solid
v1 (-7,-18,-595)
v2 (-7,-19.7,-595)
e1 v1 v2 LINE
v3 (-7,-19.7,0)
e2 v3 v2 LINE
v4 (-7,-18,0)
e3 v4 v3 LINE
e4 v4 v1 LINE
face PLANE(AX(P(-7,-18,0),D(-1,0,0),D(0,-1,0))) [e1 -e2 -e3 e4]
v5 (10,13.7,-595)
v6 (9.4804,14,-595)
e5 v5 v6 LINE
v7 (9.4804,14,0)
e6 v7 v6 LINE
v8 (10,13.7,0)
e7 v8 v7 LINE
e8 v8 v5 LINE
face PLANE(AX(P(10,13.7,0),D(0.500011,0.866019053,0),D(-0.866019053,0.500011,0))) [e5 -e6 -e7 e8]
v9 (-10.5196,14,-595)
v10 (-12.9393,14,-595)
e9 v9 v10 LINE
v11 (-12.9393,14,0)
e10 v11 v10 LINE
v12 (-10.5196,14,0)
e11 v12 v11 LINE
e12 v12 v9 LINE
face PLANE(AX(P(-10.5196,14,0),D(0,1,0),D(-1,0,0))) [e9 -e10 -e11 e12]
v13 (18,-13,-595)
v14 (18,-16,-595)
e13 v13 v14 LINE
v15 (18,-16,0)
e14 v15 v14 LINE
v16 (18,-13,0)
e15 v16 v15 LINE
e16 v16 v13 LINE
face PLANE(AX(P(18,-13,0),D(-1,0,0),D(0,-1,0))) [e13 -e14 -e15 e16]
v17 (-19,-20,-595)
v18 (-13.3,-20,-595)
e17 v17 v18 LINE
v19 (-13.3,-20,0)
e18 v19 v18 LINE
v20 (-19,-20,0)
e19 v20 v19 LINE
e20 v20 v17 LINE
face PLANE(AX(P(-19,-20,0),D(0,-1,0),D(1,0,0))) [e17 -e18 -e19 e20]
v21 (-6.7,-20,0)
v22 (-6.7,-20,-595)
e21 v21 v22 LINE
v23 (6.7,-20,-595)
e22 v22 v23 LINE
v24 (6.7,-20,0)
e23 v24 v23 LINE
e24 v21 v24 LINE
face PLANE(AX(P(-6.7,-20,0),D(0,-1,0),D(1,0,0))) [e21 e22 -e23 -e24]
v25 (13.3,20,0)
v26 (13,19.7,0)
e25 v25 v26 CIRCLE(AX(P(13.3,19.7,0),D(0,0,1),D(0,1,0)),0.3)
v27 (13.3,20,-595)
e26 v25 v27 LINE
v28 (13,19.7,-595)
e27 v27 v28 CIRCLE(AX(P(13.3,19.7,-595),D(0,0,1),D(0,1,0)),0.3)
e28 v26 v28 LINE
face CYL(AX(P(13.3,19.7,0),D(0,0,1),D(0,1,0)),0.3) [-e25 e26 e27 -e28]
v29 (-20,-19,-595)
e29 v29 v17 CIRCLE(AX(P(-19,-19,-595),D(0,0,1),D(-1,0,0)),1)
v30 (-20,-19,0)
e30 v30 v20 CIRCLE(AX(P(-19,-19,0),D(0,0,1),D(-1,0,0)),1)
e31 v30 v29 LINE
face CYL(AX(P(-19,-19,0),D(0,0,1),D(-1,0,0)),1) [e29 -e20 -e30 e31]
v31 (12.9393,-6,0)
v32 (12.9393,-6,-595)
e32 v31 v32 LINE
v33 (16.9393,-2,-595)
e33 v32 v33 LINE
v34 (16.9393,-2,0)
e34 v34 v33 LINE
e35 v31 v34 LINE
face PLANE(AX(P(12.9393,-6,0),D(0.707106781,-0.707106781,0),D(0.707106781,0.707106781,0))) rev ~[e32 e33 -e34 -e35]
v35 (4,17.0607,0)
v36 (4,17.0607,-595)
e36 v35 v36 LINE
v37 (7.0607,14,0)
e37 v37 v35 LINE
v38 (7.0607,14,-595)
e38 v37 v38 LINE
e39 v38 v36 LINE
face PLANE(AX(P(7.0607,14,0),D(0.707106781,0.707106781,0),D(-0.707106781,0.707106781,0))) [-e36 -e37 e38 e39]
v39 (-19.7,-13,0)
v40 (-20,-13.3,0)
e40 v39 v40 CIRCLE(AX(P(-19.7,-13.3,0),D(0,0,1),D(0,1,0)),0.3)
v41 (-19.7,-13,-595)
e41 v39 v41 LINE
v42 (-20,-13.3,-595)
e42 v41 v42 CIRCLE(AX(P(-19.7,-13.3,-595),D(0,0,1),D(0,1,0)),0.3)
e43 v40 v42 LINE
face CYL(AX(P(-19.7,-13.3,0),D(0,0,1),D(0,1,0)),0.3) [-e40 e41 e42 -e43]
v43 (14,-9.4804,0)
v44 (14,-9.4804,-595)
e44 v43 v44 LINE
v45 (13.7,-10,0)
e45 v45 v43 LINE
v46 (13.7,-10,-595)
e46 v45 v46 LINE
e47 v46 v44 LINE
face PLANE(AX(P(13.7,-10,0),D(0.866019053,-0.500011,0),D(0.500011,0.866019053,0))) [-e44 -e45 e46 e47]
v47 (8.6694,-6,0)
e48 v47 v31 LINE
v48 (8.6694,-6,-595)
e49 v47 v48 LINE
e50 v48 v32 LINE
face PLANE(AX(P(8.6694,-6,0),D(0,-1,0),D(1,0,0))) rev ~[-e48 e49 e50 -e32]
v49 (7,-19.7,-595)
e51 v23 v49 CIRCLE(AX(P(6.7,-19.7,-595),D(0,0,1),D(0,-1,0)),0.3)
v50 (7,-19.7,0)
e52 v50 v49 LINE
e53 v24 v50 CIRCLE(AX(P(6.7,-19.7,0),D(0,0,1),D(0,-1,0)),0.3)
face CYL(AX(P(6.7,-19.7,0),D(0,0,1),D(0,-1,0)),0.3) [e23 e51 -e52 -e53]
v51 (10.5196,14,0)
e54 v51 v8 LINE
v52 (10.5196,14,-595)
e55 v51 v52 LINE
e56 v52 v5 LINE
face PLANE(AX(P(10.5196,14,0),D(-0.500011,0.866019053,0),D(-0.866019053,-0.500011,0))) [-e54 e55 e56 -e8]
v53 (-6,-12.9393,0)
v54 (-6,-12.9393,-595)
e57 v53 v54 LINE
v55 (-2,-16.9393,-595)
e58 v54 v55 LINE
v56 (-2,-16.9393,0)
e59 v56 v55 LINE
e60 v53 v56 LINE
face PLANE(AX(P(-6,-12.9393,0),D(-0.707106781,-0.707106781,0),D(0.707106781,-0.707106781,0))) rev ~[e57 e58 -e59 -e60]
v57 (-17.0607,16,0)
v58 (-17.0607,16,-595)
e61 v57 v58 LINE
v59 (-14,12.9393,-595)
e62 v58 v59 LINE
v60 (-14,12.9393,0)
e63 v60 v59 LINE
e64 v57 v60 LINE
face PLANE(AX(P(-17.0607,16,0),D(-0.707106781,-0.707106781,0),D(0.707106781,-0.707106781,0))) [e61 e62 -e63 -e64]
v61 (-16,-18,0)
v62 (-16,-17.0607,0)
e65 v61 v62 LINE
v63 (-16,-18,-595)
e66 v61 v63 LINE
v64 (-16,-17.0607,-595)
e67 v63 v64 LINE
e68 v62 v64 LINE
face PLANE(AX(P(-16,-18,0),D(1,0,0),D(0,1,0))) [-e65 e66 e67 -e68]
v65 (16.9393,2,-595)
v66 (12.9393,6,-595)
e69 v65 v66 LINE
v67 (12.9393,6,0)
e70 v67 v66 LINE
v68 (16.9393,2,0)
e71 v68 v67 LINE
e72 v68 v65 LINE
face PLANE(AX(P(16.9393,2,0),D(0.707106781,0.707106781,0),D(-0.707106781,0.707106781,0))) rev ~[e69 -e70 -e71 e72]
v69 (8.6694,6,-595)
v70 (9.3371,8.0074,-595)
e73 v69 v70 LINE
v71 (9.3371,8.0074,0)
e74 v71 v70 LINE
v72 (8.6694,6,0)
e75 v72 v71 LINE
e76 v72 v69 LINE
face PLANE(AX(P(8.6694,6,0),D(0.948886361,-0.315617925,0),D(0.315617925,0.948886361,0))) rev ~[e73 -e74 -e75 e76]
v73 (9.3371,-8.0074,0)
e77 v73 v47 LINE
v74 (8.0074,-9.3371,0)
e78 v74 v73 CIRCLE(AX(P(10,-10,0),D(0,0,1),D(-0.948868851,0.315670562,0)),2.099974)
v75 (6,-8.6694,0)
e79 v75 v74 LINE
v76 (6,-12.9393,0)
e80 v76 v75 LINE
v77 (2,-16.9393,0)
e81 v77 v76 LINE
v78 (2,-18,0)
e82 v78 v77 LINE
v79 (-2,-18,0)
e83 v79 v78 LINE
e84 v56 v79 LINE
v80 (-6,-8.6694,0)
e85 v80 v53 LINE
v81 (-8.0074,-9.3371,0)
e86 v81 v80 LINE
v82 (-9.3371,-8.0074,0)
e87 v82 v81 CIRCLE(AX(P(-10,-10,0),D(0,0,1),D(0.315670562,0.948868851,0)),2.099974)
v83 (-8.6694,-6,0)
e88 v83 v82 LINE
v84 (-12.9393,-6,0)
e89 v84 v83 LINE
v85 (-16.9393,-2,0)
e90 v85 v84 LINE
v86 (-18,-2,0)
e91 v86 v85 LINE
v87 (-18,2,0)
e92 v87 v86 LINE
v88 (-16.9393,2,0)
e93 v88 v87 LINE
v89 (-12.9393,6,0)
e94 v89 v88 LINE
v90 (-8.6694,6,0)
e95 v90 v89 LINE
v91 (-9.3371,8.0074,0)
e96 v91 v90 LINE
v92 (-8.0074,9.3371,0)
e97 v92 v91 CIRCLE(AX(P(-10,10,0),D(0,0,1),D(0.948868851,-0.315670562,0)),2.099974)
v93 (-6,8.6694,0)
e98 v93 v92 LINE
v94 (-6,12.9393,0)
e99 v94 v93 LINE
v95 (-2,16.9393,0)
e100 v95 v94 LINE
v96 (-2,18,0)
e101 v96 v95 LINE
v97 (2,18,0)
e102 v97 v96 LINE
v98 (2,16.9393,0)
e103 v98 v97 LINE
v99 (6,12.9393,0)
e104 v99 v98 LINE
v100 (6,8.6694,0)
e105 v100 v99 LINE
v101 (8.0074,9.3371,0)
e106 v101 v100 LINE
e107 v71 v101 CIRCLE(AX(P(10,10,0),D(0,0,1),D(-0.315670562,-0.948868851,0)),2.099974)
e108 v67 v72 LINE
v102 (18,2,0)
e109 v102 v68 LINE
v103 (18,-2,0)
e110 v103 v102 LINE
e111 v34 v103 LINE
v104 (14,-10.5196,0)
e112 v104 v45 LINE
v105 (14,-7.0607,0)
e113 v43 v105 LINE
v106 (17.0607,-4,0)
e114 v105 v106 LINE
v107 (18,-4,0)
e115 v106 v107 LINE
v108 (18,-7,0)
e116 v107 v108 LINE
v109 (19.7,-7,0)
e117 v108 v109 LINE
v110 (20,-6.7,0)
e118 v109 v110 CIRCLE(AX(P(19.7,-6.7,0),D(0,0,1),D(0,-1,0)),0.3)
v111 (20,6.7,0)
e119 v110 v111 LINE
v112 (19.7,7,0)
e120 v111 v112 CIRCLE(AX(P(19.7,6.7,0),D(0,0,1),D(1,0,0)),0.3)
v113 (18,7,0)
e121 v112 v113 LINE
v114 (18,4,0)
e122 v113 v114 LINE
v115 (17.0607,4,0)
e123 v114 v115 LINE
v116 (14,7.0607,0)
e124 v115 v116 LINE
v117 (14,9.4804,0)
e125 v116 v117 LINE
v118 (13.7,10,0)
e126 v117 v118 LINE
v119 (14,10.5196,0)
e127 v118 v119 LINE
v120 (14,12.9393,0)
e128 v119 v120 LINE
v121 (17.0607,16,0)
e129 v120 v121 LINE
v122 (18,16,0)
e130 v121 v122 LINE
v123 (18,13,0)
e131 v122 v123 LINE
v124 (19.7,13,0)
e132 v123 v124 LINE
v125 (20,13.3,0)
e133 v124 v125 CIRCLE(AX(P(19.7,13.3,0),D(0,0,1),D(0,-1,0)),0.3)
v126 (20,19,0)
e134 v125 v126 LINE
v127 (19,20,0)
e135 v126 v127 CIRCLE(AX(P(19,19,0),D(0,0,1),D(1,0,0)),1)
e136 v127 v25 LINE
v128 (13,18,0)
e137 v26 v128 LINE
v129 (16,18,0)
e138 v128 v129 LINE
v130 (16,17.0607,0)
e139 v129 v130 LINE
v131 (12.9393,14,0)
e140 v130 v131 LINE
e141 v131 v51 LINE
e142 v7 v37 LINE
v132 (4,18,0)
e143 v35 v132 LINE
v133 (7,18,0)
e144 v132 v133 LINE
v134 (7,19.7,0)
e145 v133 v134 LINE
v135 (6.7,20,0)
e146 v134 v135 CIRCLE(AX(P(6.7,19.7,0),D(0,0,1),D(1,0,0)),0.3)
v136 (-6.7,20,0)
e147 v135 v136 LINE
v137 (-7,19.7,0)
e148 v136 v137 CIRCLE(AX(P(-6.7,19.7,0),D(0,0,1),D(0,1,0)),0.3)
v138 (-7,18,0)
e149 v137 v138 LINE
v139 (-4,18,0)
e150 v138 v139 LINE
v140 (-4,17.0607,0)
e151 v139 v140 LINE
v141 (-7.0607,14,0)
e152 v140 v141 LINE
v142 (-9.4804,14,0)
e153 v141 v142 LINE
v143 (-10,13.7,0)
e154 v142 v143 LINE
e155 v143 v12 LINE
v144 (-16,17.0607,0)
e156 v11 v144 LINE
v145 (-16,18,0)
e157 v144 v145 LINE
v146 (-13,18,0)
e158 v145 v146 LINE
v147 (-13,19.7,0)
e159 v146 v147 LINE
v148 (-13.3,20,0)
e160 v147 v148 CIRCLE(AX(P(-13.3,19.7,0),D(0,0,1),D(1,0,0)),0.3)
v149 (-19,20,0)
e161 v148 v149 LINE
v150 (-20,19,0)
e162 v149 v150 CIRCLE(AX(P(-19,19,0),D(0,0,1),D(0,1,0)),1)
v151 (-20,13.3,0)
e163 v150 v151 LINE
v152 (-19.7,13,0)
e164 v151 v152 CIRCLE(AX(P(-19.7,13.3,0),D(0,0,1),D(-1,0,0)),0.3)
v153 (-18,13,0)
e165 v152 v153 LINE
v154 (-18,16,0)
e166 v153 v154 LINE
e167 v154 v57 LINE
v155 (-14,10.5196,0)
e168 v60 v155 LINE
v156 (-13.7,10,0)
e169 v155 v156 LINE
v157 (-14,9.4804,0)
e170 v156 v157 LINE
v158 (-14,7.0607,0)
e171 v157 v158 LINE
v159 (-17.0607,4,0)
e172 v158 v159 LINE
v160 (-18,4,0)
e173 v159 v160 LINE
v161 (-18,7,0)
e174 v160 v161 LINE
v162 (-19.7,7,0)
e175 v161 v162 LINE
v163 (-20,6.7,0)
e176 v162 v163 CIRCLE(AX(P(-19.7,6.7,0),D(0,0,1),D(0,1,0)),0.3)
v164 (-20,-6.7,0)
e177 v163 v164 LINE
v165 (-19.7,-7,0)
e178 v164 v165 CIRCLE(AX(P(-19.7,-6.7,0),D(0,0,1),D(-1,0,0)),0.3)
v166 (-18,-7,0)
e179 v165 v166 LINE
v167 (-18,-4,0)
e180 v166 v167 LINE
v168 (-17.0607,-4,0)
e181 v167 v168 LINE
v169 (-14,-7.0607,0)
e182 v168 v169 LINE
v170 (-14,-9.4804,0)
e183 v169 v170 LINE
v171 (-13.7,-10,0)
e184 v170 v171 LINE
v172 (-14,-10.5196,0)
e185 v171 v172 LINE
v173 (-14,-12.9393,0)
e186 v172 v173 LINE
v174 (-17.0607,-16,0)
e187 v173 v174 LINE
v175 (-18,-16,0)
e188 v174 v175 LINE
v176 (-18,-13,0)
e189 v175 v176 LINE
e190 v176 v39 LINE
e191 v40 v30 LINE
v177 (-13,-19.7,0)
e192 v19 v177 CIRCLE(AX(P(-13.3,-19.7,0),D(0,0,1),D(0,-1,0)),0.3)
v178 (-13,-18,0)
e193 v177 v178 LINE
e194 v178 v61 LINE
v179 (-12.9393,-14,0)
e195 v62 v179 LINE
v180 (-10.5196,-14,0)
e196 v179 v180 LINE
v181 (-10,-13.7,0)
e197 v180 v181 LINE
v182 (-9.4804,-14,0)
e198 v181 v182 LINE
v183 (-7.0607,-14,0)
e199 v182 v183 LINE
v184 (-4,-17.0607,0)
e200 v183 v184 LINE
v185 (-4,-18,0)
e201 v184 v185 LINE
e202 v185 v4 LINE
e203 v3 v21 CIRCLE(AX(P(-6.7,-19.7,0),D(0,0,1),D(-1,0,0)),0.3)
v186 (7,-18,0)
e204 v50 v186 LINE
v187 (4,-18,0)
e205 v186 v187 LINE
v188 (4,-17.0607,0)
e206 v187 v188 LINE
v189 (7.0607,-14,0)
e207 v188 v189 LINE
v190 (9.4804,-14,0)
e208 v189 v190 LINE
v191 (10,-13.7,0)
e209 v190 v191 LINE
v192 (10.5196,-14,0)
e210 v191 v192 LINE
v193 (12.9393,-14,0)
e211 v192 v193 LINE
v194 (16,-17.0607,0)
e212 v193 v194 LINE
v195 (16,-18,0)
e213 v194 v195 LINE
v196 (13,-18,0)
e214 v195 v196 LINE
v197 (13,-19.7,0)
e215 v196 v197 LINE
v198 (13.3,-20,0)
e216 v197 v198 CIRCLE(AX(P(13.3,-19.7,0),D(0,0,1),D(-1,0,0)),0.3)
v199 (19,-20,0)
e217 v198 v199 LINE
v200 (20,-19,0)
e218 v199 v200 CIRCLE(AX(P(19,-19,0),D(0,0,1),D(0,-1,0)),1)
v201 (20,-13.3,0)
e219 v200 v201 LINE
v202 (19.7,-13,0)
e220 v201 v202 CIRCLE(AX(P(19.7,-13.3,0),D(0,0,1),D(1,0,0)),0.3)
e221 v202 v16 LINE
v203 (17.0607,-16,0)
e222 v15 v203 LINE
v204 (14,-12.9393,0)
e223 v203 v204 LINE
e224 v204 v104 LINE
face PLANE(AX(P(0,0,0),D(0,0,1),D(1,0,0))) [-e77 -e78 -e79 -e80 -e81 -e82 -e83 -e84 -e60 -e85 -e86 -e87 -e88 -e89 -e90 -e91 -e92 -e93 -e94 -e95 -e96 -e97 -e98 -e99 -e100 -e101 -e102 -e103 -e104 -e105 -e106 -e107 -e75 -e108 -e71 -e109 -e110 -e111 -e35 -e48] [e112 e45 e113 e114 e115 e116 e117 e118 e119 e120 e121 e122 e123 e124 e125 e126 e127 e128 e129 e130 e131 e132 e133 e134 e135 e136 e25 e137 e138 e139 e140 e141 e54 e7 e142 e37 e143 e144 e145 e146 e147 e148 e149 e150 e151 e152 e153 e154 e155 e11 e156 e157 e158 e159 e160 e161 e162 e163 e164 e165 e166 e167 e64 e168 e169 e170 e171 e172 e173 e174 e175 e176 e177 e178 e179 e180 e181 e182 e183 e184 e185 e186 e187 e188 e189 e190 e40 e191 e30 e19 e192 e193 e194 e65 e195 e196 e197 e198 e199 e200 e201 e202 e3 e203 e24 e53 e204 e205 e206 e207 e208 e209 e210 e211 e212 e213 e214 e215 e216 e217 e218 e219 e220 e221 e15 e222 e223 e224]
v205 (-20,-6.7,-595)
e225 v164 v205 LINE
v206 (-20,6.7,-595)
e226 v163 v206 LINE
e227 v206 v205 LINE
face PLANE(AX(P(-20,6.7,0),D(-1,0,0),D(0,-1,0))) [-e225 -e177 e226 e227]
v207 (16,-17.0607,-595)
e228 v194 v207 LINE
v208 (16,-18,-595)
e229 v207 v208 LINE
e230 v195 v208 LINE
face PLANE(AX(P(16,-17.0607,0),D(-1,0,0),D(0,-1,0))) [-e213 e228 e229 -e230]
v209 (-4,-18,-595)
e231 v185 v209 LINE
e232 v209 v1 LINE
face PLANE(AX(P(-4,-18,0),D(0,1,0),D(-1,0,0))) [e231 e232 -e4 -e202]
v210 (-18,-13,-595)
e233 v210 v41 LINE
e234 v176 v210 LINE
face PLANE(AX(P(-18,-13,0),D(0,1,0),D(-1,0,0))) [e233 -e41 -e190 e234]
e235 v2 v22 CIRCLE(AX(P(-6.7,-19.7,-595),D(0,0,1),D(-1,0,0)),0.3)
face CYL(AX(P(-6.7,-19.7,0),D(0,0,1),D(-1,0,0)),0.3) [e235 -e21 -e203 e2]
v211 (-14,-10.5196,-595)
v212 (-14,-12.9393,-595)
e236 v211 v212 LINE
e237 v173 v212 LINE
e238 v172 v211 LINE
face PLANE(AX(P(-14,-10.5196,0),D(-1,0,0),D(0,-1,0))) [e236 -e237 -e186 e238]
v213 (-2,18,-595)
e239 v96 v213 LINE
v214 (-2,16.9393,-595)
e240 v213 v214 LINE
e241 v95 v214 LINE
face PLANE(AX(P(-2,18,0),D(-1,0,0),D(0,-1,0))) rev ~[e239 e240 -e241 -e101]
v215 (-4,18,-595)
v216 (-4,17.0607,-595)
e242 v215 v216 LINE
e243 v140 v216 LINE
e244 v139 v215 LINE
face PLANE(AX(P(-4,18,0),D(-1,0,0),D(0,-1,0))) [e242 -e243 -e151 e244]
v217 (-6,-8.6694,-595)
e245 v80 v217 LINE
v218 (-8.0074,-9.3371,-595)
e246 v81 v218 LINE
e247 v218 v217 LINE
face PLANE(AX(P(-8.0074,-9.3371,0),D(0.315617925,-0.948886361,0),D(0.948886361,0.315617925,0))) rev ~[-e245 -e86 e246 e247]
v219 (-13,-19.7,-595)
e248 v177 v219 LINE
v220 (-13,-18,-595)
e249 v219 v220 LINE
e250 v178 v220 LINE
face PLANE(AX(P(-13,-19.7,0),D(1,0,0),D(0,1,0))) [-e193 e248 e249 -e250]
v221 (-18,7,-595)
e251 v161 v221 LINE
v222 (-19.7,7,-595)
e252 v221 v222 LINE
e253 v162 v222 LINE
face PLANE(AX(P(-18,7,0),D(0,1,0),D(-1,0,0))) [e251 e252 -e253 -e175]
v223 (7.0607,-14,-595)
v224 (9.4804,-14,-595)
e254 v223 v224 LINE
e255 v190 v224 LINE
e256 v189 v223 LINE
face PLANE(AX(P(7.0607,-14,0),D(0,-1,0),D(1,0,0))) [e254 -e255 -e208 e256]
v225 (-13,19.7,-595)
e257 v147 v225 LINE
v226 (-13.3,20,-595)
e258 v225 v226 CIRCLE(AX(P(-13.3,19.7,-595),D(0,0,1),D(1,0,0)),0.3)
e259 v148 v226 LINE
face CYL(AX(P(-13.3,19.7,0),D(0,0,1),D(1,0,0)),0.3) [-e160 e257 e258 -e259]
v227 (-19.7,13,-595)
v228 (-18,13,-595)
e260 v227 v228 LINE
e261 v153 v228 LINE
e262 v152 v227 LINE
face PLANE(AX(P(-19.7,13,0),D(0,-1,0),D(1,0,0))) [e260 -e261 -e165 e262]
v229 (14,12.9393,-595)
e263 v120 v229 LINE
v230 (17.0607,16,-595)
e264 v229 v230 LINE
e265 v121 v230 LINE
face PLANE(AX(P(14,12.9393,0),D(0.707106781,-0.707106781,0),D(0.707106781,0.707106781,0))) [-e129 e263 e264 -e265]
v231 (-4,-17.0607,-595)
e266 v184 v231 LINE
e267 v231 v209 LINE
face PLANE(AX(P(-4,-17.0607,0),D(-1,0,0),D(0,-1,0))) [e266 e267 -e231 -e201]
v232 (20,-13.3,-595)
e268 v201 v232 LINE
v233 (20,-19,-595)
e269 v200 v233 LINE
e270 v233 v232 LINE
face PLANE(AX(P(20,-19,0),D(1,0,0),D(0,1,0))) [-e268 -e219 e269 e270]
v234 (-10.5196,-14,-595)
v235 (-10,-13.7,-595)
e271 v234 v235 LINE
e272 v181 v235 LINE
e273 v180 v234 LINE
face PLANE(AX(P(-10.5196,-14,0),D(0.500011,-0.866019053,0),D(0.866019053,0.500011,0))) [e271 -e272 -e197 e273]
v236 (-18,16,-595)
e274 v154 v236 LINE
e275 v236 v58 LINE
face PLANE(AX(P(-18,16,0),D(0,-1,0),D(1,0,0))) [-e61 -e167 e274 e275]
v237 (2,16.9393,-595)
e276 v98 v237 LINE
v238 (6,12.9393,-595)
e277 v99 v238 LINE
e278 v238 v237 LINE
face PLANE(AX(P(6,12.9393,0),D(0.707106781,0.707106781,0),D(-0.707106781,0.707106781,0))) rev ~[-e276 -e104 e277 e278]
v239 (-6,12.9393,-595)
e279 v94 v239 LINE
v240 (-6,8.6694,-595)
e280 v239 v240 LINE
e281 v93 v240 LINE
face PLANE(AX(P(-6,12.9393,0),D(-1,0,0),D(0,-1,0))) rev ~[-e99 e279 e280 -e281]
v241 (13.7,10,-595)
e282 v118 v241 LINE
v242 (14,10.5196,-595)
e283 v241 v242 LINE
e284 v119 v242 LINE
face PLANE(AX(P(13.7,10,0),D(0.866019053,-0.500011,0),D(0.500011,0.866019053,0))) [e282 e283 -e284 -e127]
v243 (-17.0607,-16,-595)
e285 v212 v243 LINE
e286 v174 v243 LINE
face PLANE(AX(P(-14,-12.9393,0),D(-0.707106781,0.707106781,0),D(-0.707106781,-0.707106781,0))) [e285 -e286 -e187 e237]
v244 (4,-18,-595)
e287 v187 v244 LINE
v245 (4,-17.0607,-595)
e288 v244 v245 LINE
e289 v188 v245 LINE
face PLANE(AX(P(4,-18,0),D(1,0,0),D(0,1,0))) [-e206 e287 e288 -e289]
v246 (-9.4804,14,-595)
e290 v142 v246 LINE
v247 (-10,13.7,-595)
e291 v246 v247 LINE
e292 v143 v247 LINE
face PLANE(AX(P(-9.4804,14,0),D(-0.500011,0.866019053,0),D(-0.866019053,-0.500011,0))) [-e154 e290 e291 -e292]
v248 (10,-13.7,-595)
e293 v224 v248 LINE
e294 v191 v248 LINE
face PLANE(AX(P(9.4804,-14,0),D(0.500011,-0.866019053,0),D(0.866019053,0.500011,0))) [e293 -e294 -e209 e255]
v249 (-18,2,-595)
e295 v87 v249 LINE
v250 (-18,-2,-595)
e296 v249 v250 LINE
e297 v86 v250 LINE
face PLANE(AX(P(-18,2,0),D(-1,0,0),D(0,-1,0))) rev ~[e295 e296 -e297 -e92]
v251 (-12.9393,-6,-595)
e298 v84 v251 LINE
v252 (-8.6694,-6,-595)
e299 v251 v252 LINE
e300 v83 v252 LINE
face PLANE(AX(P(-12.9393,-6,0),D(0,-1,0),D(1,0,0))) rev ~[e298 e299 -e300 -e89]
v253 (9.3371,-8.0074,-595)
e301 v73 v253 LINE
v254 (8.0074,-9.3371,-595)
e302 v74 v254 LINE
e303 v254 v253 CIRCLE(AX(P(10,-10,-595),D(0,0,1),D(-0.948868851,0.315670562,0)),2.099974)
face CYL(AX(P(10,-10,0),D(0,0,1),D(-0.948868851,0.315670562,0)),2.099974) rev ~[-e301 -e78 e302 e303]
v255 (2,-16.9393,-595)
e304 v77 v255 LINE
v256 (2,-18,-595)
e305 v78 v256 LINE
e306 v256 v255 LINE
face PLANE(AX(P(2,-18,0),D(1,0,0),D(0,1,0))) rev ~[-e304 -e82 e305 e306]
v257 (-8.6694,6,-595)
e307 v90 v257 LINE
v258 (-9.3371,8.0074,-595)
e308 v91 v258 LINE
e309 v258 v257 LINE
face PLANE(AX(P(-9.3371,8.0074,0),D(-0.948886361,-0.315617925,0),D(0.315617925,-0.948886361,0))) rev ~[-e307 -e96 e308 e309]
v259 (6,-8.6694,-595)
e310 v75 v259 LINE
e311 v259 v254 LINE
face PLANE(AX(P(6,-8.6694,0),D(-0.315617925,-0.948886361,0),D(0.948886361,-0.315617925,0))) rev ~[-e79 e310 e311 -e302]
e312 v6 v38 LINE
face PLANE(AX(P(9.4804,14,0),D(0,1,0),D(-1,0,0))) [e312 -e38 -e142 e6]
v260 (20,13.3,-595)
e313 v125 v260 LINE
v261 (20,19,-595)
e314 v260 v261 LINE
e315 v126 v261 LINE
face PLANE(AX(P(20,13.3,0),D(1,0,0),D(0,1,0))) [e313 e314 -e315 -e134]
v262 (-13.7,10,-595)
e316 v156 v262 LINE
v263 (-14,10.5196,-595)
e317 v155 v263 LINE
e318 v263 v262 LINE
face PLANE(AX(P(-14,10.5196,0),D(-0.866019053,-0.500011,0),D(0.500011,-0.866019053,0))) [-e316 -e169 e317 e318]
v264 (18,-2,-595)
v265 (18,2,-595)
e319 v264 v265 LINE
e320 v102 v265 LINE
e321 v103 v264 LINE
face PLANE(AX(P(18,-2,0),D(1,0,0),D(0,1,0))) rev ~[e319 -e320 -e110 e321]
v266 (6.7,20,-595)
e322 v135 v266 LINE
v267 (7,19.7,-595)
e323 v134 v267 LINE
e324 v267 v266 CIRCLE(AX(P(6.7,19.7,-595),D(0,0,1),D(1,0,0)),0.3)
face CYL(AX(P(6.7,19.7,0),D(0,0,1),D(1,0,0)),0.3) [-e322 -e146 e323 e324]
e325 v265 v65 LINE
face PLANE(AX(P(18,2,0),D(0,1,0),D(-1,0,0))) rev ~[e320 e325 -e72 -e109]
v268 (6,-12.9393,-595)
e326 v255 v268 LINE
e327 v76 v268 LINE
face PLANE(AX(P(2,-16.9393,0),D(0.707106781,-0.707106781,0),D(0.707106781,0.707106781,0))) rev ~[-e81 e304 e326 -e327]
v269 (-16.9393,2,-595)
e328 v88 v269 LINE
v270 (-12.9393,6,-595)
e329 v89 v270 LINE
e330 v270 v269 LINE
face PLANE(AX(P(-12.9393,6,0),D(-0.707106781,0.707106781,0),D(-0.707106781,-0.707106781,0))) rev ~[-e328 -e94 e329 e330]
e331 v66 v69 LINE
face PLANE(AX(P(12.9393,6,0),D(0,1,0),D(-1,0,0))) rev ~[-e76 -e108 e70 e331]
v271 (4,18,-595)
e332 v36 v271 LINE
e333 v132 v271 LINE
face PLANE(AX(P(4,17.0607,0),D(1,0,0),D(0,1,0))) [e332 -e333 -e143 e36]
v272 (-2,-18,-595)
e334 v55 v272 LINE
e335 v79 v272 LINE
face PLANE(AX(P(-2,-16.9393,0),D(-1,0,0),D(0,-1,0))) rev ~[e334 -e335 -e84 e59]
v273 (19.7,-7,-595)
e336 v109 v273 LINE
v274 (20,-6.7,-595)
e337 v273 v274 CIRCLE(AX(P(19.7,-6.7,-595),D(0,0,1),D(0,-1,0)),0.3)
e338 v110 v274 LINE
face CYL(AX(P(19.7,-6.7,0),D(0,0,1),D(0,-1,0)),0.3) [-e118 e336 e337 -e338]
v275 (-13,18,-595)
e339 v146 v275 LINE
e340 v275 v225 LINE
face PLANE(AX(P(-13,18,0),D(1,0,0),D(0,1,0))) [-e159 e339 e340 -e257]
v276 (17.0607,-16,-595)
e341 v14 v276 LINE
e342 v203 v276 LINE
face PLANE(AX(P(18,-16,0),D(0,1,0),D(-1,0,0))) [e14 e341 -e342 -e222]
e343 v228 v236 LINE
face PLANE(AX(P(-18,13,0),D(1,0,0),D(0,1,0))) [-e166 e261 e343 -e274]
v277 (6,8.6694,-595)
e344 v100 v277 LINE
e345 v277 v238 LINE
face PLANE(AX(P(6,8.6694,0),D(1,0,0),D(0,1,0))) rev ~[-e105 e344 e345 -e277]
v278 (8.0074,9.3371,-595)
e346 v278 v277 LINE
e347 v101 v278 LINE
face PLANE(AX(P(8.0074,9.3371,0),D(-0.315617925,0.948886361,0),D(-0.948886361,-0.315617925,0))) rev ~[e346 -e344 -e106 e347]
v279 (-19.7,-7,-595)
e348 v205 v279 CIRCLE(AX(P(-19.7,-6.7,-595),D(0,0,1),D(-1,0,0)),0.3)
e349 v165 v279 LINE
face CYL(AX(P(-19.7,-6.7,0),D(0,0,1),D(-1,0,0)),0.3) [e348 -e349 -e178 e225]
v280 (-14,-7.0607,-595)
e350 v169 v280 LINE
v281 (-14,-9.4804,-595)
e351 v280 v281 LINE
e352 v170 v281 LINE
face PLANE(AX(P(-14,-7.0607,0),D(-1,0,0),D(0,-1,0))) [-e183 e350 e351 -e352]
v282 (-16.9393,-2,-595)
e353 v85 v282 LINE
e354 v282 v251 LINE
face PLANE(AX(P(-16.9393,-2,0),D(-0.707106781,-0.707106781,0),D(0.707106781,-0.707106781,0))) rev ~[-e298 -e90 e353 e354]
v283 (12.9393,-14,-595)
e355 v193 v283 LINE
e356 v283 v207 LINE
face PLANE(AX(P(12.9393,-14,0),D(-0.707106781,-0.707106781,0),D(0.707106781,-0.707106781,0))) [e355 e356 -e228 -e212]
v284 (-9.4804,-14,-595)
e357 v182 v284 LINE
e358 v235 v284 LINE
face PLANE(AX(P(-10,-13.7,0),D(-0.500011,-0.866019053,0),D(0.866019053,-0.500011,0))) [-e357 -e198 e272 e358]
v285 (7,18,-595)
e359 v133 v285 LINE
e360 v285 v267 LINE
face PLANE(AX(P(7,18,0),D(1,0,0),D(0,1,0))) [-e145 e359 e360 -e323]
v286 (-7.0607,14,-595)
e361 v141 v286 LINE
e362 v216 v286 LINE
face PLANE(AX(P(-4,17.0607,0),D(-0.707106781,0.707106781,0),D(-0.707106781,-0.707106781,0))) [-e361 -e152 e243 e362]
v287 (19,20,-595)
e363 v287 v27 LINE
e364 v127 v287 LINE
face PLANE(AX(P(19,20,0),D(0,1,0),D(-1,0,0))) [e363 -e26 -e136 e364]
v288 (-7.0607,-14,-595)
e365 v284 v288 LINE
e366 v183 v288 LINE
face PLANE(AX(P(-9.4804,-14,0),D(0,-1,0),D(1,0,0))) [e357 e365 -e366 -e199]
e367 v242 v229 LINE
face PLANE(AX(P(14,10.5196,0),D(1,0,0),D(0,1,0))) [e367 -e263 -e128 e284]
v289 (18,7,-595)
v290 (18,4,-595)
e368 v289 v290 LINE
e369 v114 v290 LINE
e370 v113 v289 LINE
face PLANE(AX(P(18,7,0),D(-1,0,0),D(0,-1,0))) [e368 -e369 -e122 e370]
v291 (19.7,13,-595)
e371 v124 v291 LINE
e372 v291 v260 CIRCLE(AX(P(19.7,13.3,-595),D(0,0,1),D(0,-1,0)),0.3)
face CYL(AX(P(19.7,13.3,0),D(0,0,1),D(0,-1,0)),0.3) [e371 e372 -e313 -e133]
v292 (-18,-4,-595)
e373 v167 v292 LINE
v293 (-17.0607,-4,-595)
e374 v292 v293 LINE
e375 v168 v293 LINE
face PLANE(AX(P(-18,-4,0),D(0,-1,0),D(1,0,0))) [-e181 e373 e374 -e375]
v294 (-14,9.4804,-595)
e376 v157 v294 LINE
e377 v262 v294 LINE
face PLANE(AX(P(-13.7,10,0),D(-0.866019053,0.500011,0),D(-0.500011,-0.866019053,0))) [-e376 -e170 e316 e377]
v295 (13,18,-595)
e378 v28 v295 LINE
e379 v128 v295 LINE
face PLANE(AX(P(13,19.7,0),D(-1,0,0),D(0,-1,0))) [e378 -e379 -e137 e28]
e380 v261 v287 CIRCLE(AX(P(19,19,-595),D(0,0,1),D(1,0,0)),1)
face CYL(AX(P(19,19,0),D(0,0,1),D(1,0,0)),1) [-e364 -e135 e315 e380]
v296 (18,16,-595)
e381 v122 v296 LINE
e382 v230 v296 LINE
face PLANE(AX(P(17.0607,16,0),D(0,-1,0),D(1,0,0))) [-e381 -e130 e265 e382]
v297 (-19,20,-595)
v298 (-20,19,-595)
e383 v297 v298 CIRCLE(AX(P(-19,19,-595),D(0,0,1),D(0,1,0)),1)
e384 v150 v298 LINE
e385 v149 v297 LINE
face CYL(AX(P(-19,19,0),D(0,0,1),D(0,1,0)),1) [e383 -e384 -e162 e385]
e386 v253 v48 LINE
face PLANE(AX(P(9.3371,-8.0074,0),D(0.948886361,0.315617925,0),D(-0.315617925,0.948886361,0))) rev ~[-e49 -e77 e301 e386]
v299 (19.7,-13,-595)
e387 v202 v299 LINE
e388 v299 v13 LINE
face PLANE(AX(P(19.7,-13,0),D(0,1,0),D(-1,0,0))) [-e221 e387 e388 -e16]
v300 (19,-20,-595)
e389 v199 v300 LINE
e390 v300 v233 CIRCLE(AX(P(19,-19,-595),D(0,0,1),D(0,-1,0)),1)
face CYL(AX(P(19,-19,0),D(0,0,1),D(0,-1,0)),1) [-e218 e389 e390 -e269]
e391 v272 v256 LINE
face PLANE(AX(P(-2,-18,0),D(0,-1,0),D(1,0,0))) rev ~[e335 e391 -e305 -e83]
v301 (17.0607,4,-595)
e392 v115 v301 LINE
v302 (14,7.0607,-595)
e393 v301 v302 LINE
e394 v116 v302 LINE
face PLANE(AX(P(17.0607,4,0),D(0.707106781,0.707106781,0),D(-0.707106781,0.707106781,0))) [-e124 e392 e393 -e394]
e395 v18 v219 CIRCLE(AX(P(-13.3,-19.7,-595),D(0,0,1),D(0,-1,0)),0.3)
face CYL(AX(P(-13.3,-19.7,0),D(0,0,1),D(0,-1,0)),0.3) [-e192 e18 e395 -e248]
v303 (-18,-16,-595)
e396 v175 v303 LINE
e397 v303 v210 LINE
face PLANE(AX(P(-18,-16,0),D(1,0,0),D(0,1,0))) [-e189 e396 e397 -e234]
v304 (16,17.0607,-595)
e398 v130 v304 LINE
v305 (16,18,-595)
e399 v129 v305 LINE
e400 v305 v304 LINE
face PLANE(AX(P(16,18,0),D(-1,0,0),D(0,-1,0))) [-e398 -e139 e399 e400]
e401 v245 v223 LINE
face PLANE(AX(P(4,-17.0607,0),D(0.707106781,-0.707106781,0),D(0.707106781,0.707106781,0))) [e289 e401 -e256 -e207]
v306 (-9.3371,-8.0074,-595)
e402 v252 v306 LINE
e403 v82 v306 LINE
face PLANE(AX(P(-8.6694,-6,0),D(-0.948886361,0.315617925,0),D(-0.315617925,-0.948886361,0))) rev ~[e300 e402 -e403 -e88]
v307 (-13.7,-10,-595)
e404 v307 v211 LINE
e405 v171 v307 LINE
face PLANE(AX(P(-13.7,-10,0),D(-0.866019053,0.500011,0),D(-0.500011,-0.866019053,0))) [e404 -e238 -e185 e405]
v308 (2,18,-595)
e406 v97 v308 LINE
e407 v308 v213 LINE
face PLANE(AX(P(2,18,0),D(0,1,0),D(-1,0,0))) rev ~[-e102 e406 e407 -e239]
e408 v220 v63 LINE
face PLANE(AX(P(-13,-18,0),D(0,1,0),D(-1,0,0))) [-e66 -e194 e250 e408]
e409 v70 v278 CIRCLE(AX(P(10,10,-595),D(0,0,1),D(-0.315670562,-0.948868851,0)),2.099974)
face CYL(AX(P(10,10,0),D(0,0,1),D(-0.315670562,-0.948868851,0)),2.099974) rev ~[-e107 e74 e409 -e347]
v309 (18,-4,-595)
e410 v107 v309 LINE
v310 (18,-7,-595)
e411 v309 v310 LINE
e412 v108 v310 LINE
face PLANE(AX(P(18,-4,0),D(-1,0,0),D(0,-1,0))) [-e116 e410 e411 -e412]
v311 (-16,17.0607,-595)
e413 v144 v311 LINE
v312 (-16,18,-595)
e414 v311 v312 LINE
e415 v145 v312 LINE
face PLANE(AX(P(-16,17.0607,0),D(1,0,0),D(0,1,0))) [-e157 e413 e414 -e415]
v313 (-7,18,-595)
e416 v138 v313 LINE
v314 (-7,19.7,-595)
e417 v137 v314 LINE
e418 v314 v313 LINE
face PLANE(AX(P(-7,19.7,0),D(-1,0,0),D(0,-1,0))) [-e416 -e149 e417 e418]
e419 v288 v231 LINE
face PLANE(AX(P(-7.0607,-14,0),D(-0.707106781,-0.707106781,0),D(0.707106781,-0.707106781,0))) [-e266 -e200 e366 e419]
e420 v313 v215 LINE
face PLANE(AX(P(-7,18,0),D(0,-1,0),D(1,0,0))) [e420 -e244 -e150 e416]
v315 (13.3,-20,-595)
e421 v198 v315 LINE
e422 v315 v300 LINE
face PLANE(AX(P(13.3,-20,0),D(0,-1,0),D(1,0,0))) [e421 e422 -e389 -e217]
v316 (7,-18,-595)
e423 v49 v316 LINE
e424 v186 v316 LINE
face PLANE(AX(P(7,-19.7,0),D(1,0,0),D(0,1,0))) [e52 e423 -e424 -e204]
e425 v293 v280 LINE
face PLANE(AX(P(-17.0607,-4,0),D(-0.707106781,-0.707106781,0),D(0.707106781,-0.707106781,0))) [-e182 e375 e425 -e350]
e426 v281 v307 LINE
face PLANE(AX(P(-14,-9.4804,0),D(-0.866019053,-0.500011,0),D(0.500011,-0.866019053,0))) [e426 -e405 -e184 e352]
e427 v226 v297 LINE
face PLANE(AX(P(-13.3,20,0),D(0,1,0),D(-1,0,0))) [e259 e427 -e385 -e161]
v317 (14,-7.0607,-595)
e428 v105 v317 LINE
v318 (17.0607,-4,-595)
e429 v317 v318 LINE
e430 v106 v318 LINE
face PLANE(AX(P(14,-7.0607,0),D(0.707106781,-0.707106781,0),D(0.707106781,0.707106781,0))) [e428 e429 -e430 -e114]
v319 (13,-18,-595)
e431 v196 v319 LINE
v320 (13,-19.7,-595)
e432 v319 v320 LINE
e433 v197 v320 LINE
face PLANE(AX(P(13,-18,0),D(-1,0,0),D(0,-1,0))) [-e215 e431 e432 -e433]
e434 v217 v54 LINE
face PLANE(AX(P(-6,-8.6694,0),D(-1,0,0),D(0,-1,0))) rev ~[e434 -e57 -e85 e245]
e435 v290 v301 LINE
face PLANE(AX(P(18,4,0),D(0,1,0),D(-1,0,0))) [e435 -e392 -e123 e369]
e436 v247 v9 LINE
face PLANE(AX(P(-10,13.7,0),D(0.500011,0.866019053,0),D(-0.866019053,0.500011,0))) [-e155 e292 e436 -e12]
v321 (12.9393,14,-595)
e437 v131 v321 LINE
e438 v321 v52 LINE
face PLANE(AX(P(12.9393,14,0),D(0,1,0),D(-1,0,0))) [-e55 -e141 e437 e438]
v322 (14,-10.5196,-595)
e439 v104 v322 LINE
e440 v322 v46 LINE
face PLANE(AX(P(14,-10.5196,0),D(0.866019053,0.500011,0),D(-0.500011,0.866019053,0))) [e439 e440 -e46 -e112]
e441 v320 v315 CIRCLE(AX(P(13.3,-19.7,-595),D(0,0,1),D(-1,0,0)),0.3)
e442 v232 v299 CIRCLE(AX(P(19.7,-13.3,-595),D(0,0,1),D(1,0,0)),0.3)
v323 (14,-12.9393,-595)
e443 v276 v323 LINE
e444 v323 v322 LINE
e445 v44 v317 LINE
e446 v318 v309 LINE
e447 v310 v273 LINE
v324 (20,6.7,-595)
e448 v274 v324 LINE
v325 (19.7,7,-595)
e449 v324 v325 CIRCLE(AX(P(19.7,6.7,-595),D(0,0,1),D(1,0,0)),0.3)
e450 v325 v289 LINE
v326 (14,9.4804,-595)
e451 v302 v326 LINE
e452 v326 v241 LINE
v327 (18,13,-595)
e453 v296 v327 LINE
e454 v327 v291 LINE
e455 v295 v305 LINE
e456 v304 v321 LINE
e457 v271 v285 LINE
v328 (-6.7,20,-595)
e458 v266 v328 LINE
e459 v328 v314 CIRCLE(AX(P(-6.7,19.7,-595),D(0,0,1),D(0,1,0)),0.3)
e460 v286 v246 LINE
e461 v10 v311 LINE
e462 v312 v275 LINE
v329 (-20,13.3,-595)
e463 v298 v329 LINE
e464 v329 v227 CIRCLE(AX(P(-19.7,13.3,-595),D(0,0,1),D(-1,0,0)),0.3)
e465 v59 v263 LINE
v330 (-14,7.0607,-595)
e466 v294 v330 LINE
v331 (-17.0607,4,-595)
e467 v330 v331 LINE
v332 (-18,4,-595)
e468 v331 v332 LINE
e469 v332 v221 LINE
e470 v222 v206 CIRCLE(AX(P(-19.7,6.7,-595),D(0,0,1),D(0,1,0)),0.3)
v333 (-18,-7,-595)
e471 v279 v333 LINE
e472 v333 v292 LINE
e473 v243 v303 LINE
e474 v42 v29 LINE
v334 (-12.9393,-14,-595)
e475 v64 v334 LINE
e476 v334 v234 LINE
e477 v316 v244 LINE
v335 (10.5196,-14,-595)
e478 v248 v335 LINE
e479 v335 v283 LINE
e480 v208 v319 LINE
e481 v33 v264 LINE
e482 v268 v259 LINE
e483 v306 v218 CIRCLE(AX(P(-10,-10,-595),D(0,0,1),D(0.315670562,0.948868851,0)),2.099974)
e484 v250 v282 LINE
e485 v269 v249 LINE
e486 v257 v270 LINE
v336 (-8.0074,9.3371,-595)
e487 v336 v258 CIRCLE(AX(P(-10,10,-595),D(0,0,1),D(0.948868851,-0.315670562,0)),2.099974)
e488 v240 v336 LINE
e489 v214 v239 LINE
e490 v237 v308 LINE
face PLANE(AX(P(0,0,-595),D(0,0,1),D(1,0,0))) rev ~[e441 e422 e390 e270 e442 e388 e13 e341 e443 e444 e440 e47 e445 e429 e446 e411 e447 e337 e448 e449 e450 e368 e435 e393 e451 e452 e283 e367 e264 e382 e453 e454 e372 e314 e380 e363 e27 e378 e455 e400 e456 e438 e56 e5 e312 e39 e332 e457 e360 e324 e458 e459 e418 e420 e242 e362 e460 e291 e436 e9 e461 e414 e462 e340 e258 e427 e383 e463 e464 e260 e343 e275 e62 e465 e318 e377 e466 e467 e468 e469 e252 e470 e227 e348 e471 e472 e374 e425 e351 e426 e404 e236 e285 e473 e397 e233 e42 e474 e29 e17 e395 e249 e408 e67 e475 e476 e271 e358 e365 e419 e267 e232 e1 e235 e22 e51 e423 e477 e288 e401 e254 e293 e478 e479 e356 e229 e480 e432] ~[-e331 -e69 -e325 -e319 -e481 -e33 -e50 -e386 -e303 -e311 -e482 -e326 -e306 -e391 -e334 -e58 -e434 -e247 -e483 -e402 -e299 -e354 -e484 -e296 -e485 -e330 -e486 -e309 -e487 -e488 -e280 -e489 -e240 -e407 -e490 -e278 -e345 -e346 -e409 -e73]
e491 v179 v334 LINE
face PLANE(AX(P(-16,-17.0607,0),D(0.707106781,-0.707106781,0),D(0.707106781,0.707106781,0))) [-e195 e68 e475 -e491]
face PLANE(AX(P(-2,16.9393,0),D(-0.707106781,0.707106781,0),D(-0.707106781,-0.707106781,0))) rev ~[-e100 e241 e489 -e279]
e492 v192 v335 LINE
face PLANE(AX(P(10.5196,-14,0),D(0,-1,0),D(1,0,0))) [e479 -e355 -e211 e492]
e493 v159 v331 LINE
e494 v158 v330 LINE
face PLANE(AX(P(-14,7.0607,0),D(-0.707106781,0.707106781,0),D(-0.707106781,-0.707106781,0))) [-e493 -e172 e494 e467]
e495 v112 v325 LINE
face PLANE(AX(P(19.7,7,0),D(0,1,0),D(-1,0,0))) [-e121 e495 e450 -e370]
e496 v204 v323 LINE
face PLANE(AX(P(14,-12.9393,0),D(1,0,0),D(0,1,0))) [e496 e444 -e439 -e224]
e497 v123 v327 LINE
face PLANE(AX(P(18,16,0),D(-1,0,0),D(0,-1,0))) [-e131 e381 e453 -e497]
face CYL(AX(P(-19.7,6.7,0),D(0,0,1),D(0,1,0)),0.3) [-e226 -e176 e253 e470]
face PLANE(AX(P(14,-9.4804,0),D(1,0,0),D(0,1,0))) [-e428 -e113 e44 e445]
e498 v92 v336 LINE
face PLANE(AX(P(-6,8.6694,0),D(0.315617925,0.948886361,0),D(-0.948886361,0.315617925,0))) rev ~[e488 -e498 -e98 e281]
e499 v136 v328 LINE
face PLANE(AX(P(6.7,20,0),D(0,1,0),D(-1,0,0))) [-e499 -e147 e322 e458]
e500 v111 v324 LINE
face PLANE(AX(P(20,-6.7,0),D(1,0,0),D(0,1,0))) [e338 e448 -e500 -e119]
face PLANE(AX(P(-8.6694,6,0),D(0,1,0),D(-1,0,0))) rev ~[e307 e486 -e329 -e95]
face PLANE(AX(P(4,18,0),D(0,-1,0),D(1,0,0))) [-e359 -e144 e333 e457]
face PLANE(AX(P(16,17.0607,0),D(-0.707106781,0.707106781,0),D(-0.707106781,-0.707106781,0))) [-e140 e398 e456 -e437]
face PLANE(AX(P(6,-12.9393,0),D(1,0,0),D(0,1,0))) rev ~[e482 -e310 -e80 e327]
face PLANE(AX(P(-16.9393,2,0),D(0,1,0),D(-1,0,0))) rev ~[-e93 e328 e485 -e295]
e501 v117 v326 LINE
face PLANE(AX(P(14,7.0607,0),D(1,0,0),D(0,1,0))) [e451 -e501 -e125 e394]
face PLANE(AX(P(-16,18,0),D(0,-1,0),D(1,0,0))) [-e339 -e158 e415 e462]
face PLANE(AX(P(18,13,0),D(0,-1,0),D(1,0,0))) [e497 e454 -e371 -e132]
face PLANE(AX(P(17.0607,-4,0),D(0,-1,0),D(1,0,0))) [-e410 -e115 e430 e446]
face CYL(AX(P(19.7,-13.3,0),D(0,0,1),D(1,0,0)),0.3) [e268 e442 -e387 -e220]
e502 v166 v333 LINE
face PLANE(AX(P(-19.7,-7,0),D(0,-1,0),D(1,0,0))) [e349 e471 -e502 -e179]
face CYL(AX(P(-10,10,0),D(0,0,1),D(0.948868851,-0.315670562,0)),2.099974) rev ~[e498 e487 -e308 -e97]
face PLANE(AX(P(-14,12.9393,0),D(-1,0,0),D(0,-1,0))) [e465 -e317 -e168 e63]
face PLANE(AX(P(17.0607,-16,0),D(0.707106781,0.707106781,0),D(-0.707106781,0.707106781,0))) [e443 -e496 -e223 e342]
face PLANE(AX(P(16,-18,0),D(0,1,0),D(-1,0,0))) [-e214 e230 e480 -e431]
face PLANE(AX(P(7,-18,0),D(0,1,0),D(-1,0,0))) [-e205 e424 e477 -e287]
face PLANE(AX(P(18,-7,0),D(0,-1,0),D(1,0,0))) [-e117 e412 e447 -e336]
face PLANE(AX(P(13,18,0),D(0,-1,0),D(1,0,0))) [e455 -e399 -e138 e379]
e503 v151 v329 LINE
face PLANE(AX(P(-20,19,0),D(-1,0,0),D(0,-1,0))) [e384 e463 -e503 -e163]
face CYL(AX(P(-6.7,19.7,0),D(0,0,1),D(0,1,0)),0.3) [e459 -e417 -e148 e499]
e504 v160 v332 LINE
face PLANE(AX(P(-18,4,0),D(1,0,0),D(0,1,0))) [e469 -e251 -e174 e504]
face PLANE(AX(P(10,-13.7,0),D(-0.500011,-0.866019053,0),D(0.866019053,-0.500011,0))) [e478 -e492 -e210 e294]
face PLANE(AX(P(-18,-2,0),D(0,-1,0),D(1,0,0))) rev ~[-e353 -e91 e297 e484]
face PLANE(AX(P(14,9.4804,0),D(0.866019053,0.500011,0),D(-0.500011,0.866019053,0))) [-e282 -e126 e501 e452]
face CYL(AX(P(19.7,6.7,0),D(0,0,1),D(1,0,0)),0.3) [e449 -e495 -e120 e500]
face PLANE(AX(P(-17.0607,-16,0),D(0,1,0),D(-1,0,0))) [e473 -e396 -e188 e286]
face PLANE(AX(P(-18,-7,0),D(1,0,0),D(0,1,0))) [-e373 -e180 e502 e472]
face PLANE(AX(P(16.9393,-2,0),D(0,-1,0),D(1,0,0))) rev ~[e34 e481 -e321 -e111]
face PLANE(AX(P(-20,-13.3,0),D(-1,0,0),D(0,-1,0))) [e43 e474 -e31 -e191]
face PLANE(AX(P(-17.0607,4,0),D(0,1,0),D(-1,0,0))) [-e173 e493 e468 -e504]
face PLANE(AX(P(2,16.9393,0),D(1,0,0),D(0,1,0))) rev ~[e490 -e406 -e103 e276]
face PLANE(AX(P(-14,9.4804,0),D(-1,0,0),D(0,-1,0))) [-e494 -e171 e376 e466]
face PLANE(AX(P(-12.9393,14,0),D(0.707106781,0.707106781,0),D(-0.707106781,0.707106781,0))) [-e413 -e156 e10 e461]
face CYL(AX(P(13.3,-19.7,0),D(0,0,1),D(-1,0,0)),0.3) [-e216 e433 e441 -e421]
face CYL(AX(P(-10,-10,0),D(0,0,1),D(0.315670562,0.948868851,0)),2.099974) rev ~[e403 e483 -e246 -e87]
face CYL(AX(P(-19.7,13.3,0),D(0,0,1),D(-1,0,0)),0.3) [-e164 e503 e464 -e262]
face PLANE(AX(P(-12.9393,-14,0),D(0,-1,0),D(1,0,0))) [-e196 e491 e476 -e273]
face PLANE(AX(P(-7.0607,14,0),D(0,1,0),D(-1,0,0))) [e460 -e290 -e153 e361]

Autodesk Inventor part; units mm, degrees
sketch "Sketch_1" plane through (0, 0, 0) normal (0, 0, 1) x (1, 0, 0)
  arc A0 (-20, 13.3) -> (-19.7, 13) centre (-19.7, 13.3) ccw
  line L0 (-19.7, 13) -> (-18, 13)
  line L1 (-18, 13) -> (-18, 16)
  line L2 (-18, 16) -> (-17.0607, 16)
  line L3 (-17.0607, 16) -> (-14, 12.9393)
  line L4 (-14, 12.9393) -> (-14, 10.5196)
  line L5 (-14, 10.5196) -> (-13.7, 10)
  line L6 (-13.7, 10) -> (-14, 9.4804)
  line L7 (-14, 9.4804) -> (-14, 7.0607)
  line L8 (-14, 7.0607) -> (-17.0607, 4)
  line L9 (-17.0607, 4) -> (-18, 4)
  line L10 (-18, 4) -> (-18, 7)
  line L11 (-18, 7) -> (-19.7, 7)
  arc A1 (-19.7, 7) -> (-20, 6.7) centre (-19.7, 6.7) ccw
  line L12 (-20, 6.7) -> (-20, -6.7)
  arc A2 (-20, -6.7) -> (-19.7, -7) centre (-19.7, -6.7) ccw
  line L13 (-19.7, -7) -> (-18, -7)
  line L14 (-18, -7) -> (-18, -4)
  line L15 (-18, -4) -> (-17.0607, -4)
  line L16 (-17.0607, -4) -> (-14, -7.0607)
  line L17 (-14, -7.0607) -> (-14, -9.4804)
  line L18 (-14, -9.4804) -> (-13.7, -10)
  line L19 (-13.7, -10) -> (-14, -10.5196)
  line L20 (-14, -10.5196) -> (-14, -12.9393)
  line L21 (-14, -12.9393) -> (-17.0607, -16)
  line L22 (-17.0607, -16) -> (-18, -16)
  line L23 (-18, -16) -> (-18, -13)
  line L24 (-18, -13) -> (-19.7, -13)
  arc A3 (-19.7, -13) -> (-20, -13.3) centre (-19.7, -13.3) ccw
  line L25 (-20, -13.3) -> (-20, -19)
  arc A4 (-20, -19) -> (-19, -20) centre (-19, -19) ccw
  line L26 (-19, -20) -> (-13.3, -20)
  arc A5 (-13.3, -20) -> (-13, -19.7) centre (-13.3, -19.7) ccw
  line L27 (-13, -19.7) -> (-13, -18)
  line L28 (-13, -18) -> (-16, -18)
  line L29 (-16, -18) -> (-16, -17.0607)
  line L30 (-16, -17.0607) -> (-12.9393, -14)
  line L31 (-12.9393, -14) -> (-10.5196, -14)
  line L32 (-10.5196, -14) -> (-10, -13.7)
  line L33 (-10, -13.7) -> (-9.4804, -14)
  line L34 (-9.4804, -14) -> (-7.0607, -14)
  line L35 (-7.0607, -14) -> (-4, -17.0607)
  line L36 (-4, -17.0607) -> (-4, -18)
  line L37 (-4, -18) -> (-7, -18)
  line L38 (-7, -18) -> (-7, -19.7)
  arc A6 (-7, -19.7) -> (-6.7, -20) centre (-6.7, -19.7) ccw
  line L39 (-6.7, -20) -> (6.7, -20)
  arc A7 (6.7, -20) -> (7, -19.7) centre (6.7, -19.7) ccw
  line L40 (7, -19.7) -> (7, -18)
  line L41 (7, -18) -> (4, -18)
  line L42 (4, -18) -> (4, -17.0607)
  line L43 (4, -17.0607) -> (7.0607, -14)
  line L44 (7.0607, -14) -> (9.4804, -14)
  line L45 (9.4804, -14) -> (10, -13.7)
  line L46 (10, -13.7) -> (10.5196, -14)
  line L47 (10.5196, -14) -> (12.9393, -14)
  line L48 (12.9393, -14) -> (16, -17.0607)
  line L49 (16, -17.0607) -> (16, -18)
  line L50 (16, -18) -> (13, -18)
  line L51 (13, -18) -> (13, -19.7)
  arc A8 (13, -19.7) -> (13.3, -20) centre (13.3, -19.7) ccw
  line L52 (13.3, -20) -> (19, -20)
  arc A9 (19, -20) -> (20, -19) centre (19, -19) ccw
  line L53 (20, -19) -> (20, -13.3)
  arc A10 (20, -13.3) -> (19.7, -13) centre (19.7, -13.3) ccw
  line L54 (19.7, -13) -> (18, -13)
  line L55 (18, -13) -> (18, -16)
  line L56 (18, -16) -> (17.0607, -16)
  line L57 (17.0607, -16) -> (14, -12.9393)
  line L58 (14, -12.9393) -> (14, -10.5196)
  line L59 (14, -10.5196) -> (13.7, -10)
  line L60 (13.7, -10) -> (14, -9.4804)
  line L61 (14, -9.4804) -> (14, -7.0607)
  line L62 (14, -7.0607) -> (17.0607, -4)
  line L63 (17.0607, -4) -> (18, -4)
  line L64 (18, -4) -> (18, -7)
  line L65 (18, -7) -> (19.7, -7)
  arc A11 (19.7, -7) -> (20, -6.7) centre (19.7, -6.7) ccw
  line L66 (20, -6.7) -> (20, 6.7)
  arc A12 (20, 6.7) -> (19.7, 7) centre (19.7, 6.7) ccw
  line L67 (19.7, 7) -> (18, 7)
  line L68 (18, 7) -> (18, 4)
  line L69 (18, 4) -> (17.0607, 4)
  line L70 (17.0607, 4) -> (14, 7.0607)
  line L71 (14, 7.0607) -> (14, 9.4804)
  line L72 (14, 9.4804) -> (13.7, 10)
  line L73 (13.7, 10) -> (14, 10.5196)
  line L74 (14, 10.5196) -> (14, 12.9393)
  line L75 (14, 12.9393) -> (17.0607, 16)
  line L76 (17.0607, 16) -> (18, 16)
  line L77 (18, 16) -> (18, 13)
  line L78 (18, 13) -> (19.7, 13)
  arc A13 (19.7, 13) -> (20, 13.3) centre (19.7, 13.3) ccw
  line L79 (20, 13.3) -> (20, 19)
  arc A14 (20, 19) -> (19, 20) centre (19, 19) ccw
  line L80 (19, 20) -> (13.3, 20)
  arc A15 (13.3, 20) -> (13, 19.7) centre (13.3, 19.7) ccw
  line L81 (13, 19.7) -> (13, 18)
  line L82 (13, 18) -> (16, 18)
  line L83 (16, 18) -> (16, 17.0607)
  line L84 (16, 17.0607) -> (12.9393, 14)
  line L85 (12.9393, 14) -> (10.5196, 14)
  line L86 (10.5196, 14) -> (10, 13.7)
  line L87 (10, 13.7) -> (9.4804, 14)
  line L88 (9.4804, 14) -> (7.0607, 14)
  line L89 (7.0607, 14) -> (4, 17.0607)
  line L90 (4, 17.0607) -> (4, 18)
  line L91 (4, 18) -> (7, 18)
  line L92 (7, 18) -> (7, 19.7)
  arc A16 (7, 19.7) -> (6.7, 20) centre (6.7, 19.7) ccw
  line L93 (6.7, 20) -> (-6.7, 20)
  arc A17 (-6.7, 20) -> (-7, 19.7) centre (-6.7, 19.7) ccw
  line L94 (-7, 19.7) -> (-7, 18)
  line L95 (-7, 18) -> (-4, 18)
  line L96 (-4, 18) -> (-4, 17.0607)
  line L97 (-4, 17.0607) -> (-7.0607, 14)
  line L98 (-7.0607, 14) -> (-9.4804, 14)
  line L99 (-9.4804, 14) -> (-10, 13.7)
  line L100 (-10, 13.7) -> (-10.5196, 14)
  line L101 (-10.5196, 14) -> (-12.9393, 14)
  line L102 (-12.9393, 14) -> (-16, 17.0607)
  line L103 (-16, 17.0607) -> (-16, 18)
  line L104 (-16, 18) -> (-13, 18)
  line L105 (-13, 18) -> (-13, 19.7)
  arc A18 (-13, 19.7) -> (-13.3, 20) centre (-13.3, 19.7) ccw
  line L106 (-13.3, 20) -> (-19, 20)
  arc A19 (-19, 20) -> (-20, 19) centre (-19, 19) ccw
  line L107 (-20, 19) -> (-20, 13.3)
  line L108 (-18, 2) -> (-18, -2)
  line L109 (-18, -2) -> (-16.9393, -2)
  line L110 (-16.9393, -2) -> (-12.9393, -6)
  line L111 (-12.9393, -6) -> (-8.6694, -6)
  line L112 (-8.6694, -6) -> (-9.3371, -8.0074)
  arc A20 (-9.3371, -8.0074) -> (-8.0074, -9.3371) centre (-10, -10) ccw
  line L113 (-8.0074, -9.3371) -> (-6, -8.6694)
  line L114 (-6, -8.6694) -> (-6, -12.9393)
  line L115 (-6, -12.9393) -> (-2, -16.9393)
  line L116 (-2, -16.9393) -> (-2, -18)
  line L117 (-2, -18) -> (2, -18)
  line L118 (2, -18) -> (2, -16.9393)
  line L119 (2, -16.9393) -> (6, -12.9393)
  line L120 (6, -12.9393) -> (6, -8.6694)
  line L121 (6, -8.6694) -> (8.0074, -9.3371)
  arc A21 (8.0074, -9.3371) -> (9.3371, -8.0074) centre (10, -10) ccw
  line L122 (9.3371, -8.0074) -> (8.6694, -6)
  line L123 (8.6694, -6) -> (12.9393, -6)
  line L124 (12.9393, -6) -> (16.9393, -2)
  line L125 (16.9393, -2) -> (18, -2)
  line L126 (18, -2) -> (18, 2)
  line L127 (18, 2) -> (16.9393, 2)
  line L128 (16.9393, 2) -> (12.9393, 6)
  line L129 (12.9393, 6) -> (8.6694, 6)
  line L130 (8.6694, 6) -> (9.3371, 8.0074)
  arc A22 (9.3371, 8.0074) -> (8.0074, 9.3371) centre (10, 10) ccw
  line L131 (8.0074, 9.3371) -> (6, 8.6694)
  line L132 (6, 8.6694) -> (6, 12.9393)
  line L133 (6, 12.9393) -> (2, 16.9393)
  line L134 (2, 16.9393) -> (2, 18)
  line L135 (2, 18) -> (-2, 18)
  line L136 (-2, 18) -> (-2, 16.9393)
  line L137 (-2, 16.9393) -> (-6, 12.9393)
  line L138 (-6, 12.9393) -> (-6, 8.6694)
  line L139 (-6, 8.6694) -> (-8.0074, 9.3371)
  arc A23 (-8.0074, 9.3371) -> (-9.3371, 8.0074) centre (-10, 10) ccw
  line L140 (-9.3371, 8.0074) -> (-8.6694, 6)
  line L141 (-8.6694, 6) -> (-12.9393, 6)
  line L142 (-12.9393, 6) -> (-16.9393, 2)
  line L143 (-16.9393, 2) -> (-18, 2)
extrude "Extrusion1" add sketch "Sketch_1" against normal blind 595
ref_plane "to_frame_cap1_XY" through (0, 0, 0) normal (0, 0, 1) x (1, 0, 0)
ref_plane "to_frame_cap1_YZ" through (0, 0, 0) normal (1, 0, 0) x (0, 1, 0)
ref_plane "to_frame_cap1_ZX" through (0, 0, 0) normal (0, 1, 0) x (0, 0, 1)
ref_plane "C1_XY" through (0, 0, 0) normal (0, 0, 1) x (1, 0, 0)
ref_plane "C1_YZ" through (0, 0, 0) normal (1, 0, 0) x (0, 1, 0)
ref_plane "C1_ZX" through (0, 0, 0) normal (0, 1, 0) x (0, 0, 1)
ref_plane "to_frame_cap2_XY" through (0, 0, -595) normal (0, 0, -1) x (1, 0, 0)
ref_plane "to_frame_cap2_YZ" through (0, 0, -595) normal (1, 0, 0) x (0, -1, 0)
ref_plane "to_frame_cap2_ZX" through (0, 0, -595) normal (0, -1, 0) x (0, 0, -1)
properties part number "HFS5-4040-595"
